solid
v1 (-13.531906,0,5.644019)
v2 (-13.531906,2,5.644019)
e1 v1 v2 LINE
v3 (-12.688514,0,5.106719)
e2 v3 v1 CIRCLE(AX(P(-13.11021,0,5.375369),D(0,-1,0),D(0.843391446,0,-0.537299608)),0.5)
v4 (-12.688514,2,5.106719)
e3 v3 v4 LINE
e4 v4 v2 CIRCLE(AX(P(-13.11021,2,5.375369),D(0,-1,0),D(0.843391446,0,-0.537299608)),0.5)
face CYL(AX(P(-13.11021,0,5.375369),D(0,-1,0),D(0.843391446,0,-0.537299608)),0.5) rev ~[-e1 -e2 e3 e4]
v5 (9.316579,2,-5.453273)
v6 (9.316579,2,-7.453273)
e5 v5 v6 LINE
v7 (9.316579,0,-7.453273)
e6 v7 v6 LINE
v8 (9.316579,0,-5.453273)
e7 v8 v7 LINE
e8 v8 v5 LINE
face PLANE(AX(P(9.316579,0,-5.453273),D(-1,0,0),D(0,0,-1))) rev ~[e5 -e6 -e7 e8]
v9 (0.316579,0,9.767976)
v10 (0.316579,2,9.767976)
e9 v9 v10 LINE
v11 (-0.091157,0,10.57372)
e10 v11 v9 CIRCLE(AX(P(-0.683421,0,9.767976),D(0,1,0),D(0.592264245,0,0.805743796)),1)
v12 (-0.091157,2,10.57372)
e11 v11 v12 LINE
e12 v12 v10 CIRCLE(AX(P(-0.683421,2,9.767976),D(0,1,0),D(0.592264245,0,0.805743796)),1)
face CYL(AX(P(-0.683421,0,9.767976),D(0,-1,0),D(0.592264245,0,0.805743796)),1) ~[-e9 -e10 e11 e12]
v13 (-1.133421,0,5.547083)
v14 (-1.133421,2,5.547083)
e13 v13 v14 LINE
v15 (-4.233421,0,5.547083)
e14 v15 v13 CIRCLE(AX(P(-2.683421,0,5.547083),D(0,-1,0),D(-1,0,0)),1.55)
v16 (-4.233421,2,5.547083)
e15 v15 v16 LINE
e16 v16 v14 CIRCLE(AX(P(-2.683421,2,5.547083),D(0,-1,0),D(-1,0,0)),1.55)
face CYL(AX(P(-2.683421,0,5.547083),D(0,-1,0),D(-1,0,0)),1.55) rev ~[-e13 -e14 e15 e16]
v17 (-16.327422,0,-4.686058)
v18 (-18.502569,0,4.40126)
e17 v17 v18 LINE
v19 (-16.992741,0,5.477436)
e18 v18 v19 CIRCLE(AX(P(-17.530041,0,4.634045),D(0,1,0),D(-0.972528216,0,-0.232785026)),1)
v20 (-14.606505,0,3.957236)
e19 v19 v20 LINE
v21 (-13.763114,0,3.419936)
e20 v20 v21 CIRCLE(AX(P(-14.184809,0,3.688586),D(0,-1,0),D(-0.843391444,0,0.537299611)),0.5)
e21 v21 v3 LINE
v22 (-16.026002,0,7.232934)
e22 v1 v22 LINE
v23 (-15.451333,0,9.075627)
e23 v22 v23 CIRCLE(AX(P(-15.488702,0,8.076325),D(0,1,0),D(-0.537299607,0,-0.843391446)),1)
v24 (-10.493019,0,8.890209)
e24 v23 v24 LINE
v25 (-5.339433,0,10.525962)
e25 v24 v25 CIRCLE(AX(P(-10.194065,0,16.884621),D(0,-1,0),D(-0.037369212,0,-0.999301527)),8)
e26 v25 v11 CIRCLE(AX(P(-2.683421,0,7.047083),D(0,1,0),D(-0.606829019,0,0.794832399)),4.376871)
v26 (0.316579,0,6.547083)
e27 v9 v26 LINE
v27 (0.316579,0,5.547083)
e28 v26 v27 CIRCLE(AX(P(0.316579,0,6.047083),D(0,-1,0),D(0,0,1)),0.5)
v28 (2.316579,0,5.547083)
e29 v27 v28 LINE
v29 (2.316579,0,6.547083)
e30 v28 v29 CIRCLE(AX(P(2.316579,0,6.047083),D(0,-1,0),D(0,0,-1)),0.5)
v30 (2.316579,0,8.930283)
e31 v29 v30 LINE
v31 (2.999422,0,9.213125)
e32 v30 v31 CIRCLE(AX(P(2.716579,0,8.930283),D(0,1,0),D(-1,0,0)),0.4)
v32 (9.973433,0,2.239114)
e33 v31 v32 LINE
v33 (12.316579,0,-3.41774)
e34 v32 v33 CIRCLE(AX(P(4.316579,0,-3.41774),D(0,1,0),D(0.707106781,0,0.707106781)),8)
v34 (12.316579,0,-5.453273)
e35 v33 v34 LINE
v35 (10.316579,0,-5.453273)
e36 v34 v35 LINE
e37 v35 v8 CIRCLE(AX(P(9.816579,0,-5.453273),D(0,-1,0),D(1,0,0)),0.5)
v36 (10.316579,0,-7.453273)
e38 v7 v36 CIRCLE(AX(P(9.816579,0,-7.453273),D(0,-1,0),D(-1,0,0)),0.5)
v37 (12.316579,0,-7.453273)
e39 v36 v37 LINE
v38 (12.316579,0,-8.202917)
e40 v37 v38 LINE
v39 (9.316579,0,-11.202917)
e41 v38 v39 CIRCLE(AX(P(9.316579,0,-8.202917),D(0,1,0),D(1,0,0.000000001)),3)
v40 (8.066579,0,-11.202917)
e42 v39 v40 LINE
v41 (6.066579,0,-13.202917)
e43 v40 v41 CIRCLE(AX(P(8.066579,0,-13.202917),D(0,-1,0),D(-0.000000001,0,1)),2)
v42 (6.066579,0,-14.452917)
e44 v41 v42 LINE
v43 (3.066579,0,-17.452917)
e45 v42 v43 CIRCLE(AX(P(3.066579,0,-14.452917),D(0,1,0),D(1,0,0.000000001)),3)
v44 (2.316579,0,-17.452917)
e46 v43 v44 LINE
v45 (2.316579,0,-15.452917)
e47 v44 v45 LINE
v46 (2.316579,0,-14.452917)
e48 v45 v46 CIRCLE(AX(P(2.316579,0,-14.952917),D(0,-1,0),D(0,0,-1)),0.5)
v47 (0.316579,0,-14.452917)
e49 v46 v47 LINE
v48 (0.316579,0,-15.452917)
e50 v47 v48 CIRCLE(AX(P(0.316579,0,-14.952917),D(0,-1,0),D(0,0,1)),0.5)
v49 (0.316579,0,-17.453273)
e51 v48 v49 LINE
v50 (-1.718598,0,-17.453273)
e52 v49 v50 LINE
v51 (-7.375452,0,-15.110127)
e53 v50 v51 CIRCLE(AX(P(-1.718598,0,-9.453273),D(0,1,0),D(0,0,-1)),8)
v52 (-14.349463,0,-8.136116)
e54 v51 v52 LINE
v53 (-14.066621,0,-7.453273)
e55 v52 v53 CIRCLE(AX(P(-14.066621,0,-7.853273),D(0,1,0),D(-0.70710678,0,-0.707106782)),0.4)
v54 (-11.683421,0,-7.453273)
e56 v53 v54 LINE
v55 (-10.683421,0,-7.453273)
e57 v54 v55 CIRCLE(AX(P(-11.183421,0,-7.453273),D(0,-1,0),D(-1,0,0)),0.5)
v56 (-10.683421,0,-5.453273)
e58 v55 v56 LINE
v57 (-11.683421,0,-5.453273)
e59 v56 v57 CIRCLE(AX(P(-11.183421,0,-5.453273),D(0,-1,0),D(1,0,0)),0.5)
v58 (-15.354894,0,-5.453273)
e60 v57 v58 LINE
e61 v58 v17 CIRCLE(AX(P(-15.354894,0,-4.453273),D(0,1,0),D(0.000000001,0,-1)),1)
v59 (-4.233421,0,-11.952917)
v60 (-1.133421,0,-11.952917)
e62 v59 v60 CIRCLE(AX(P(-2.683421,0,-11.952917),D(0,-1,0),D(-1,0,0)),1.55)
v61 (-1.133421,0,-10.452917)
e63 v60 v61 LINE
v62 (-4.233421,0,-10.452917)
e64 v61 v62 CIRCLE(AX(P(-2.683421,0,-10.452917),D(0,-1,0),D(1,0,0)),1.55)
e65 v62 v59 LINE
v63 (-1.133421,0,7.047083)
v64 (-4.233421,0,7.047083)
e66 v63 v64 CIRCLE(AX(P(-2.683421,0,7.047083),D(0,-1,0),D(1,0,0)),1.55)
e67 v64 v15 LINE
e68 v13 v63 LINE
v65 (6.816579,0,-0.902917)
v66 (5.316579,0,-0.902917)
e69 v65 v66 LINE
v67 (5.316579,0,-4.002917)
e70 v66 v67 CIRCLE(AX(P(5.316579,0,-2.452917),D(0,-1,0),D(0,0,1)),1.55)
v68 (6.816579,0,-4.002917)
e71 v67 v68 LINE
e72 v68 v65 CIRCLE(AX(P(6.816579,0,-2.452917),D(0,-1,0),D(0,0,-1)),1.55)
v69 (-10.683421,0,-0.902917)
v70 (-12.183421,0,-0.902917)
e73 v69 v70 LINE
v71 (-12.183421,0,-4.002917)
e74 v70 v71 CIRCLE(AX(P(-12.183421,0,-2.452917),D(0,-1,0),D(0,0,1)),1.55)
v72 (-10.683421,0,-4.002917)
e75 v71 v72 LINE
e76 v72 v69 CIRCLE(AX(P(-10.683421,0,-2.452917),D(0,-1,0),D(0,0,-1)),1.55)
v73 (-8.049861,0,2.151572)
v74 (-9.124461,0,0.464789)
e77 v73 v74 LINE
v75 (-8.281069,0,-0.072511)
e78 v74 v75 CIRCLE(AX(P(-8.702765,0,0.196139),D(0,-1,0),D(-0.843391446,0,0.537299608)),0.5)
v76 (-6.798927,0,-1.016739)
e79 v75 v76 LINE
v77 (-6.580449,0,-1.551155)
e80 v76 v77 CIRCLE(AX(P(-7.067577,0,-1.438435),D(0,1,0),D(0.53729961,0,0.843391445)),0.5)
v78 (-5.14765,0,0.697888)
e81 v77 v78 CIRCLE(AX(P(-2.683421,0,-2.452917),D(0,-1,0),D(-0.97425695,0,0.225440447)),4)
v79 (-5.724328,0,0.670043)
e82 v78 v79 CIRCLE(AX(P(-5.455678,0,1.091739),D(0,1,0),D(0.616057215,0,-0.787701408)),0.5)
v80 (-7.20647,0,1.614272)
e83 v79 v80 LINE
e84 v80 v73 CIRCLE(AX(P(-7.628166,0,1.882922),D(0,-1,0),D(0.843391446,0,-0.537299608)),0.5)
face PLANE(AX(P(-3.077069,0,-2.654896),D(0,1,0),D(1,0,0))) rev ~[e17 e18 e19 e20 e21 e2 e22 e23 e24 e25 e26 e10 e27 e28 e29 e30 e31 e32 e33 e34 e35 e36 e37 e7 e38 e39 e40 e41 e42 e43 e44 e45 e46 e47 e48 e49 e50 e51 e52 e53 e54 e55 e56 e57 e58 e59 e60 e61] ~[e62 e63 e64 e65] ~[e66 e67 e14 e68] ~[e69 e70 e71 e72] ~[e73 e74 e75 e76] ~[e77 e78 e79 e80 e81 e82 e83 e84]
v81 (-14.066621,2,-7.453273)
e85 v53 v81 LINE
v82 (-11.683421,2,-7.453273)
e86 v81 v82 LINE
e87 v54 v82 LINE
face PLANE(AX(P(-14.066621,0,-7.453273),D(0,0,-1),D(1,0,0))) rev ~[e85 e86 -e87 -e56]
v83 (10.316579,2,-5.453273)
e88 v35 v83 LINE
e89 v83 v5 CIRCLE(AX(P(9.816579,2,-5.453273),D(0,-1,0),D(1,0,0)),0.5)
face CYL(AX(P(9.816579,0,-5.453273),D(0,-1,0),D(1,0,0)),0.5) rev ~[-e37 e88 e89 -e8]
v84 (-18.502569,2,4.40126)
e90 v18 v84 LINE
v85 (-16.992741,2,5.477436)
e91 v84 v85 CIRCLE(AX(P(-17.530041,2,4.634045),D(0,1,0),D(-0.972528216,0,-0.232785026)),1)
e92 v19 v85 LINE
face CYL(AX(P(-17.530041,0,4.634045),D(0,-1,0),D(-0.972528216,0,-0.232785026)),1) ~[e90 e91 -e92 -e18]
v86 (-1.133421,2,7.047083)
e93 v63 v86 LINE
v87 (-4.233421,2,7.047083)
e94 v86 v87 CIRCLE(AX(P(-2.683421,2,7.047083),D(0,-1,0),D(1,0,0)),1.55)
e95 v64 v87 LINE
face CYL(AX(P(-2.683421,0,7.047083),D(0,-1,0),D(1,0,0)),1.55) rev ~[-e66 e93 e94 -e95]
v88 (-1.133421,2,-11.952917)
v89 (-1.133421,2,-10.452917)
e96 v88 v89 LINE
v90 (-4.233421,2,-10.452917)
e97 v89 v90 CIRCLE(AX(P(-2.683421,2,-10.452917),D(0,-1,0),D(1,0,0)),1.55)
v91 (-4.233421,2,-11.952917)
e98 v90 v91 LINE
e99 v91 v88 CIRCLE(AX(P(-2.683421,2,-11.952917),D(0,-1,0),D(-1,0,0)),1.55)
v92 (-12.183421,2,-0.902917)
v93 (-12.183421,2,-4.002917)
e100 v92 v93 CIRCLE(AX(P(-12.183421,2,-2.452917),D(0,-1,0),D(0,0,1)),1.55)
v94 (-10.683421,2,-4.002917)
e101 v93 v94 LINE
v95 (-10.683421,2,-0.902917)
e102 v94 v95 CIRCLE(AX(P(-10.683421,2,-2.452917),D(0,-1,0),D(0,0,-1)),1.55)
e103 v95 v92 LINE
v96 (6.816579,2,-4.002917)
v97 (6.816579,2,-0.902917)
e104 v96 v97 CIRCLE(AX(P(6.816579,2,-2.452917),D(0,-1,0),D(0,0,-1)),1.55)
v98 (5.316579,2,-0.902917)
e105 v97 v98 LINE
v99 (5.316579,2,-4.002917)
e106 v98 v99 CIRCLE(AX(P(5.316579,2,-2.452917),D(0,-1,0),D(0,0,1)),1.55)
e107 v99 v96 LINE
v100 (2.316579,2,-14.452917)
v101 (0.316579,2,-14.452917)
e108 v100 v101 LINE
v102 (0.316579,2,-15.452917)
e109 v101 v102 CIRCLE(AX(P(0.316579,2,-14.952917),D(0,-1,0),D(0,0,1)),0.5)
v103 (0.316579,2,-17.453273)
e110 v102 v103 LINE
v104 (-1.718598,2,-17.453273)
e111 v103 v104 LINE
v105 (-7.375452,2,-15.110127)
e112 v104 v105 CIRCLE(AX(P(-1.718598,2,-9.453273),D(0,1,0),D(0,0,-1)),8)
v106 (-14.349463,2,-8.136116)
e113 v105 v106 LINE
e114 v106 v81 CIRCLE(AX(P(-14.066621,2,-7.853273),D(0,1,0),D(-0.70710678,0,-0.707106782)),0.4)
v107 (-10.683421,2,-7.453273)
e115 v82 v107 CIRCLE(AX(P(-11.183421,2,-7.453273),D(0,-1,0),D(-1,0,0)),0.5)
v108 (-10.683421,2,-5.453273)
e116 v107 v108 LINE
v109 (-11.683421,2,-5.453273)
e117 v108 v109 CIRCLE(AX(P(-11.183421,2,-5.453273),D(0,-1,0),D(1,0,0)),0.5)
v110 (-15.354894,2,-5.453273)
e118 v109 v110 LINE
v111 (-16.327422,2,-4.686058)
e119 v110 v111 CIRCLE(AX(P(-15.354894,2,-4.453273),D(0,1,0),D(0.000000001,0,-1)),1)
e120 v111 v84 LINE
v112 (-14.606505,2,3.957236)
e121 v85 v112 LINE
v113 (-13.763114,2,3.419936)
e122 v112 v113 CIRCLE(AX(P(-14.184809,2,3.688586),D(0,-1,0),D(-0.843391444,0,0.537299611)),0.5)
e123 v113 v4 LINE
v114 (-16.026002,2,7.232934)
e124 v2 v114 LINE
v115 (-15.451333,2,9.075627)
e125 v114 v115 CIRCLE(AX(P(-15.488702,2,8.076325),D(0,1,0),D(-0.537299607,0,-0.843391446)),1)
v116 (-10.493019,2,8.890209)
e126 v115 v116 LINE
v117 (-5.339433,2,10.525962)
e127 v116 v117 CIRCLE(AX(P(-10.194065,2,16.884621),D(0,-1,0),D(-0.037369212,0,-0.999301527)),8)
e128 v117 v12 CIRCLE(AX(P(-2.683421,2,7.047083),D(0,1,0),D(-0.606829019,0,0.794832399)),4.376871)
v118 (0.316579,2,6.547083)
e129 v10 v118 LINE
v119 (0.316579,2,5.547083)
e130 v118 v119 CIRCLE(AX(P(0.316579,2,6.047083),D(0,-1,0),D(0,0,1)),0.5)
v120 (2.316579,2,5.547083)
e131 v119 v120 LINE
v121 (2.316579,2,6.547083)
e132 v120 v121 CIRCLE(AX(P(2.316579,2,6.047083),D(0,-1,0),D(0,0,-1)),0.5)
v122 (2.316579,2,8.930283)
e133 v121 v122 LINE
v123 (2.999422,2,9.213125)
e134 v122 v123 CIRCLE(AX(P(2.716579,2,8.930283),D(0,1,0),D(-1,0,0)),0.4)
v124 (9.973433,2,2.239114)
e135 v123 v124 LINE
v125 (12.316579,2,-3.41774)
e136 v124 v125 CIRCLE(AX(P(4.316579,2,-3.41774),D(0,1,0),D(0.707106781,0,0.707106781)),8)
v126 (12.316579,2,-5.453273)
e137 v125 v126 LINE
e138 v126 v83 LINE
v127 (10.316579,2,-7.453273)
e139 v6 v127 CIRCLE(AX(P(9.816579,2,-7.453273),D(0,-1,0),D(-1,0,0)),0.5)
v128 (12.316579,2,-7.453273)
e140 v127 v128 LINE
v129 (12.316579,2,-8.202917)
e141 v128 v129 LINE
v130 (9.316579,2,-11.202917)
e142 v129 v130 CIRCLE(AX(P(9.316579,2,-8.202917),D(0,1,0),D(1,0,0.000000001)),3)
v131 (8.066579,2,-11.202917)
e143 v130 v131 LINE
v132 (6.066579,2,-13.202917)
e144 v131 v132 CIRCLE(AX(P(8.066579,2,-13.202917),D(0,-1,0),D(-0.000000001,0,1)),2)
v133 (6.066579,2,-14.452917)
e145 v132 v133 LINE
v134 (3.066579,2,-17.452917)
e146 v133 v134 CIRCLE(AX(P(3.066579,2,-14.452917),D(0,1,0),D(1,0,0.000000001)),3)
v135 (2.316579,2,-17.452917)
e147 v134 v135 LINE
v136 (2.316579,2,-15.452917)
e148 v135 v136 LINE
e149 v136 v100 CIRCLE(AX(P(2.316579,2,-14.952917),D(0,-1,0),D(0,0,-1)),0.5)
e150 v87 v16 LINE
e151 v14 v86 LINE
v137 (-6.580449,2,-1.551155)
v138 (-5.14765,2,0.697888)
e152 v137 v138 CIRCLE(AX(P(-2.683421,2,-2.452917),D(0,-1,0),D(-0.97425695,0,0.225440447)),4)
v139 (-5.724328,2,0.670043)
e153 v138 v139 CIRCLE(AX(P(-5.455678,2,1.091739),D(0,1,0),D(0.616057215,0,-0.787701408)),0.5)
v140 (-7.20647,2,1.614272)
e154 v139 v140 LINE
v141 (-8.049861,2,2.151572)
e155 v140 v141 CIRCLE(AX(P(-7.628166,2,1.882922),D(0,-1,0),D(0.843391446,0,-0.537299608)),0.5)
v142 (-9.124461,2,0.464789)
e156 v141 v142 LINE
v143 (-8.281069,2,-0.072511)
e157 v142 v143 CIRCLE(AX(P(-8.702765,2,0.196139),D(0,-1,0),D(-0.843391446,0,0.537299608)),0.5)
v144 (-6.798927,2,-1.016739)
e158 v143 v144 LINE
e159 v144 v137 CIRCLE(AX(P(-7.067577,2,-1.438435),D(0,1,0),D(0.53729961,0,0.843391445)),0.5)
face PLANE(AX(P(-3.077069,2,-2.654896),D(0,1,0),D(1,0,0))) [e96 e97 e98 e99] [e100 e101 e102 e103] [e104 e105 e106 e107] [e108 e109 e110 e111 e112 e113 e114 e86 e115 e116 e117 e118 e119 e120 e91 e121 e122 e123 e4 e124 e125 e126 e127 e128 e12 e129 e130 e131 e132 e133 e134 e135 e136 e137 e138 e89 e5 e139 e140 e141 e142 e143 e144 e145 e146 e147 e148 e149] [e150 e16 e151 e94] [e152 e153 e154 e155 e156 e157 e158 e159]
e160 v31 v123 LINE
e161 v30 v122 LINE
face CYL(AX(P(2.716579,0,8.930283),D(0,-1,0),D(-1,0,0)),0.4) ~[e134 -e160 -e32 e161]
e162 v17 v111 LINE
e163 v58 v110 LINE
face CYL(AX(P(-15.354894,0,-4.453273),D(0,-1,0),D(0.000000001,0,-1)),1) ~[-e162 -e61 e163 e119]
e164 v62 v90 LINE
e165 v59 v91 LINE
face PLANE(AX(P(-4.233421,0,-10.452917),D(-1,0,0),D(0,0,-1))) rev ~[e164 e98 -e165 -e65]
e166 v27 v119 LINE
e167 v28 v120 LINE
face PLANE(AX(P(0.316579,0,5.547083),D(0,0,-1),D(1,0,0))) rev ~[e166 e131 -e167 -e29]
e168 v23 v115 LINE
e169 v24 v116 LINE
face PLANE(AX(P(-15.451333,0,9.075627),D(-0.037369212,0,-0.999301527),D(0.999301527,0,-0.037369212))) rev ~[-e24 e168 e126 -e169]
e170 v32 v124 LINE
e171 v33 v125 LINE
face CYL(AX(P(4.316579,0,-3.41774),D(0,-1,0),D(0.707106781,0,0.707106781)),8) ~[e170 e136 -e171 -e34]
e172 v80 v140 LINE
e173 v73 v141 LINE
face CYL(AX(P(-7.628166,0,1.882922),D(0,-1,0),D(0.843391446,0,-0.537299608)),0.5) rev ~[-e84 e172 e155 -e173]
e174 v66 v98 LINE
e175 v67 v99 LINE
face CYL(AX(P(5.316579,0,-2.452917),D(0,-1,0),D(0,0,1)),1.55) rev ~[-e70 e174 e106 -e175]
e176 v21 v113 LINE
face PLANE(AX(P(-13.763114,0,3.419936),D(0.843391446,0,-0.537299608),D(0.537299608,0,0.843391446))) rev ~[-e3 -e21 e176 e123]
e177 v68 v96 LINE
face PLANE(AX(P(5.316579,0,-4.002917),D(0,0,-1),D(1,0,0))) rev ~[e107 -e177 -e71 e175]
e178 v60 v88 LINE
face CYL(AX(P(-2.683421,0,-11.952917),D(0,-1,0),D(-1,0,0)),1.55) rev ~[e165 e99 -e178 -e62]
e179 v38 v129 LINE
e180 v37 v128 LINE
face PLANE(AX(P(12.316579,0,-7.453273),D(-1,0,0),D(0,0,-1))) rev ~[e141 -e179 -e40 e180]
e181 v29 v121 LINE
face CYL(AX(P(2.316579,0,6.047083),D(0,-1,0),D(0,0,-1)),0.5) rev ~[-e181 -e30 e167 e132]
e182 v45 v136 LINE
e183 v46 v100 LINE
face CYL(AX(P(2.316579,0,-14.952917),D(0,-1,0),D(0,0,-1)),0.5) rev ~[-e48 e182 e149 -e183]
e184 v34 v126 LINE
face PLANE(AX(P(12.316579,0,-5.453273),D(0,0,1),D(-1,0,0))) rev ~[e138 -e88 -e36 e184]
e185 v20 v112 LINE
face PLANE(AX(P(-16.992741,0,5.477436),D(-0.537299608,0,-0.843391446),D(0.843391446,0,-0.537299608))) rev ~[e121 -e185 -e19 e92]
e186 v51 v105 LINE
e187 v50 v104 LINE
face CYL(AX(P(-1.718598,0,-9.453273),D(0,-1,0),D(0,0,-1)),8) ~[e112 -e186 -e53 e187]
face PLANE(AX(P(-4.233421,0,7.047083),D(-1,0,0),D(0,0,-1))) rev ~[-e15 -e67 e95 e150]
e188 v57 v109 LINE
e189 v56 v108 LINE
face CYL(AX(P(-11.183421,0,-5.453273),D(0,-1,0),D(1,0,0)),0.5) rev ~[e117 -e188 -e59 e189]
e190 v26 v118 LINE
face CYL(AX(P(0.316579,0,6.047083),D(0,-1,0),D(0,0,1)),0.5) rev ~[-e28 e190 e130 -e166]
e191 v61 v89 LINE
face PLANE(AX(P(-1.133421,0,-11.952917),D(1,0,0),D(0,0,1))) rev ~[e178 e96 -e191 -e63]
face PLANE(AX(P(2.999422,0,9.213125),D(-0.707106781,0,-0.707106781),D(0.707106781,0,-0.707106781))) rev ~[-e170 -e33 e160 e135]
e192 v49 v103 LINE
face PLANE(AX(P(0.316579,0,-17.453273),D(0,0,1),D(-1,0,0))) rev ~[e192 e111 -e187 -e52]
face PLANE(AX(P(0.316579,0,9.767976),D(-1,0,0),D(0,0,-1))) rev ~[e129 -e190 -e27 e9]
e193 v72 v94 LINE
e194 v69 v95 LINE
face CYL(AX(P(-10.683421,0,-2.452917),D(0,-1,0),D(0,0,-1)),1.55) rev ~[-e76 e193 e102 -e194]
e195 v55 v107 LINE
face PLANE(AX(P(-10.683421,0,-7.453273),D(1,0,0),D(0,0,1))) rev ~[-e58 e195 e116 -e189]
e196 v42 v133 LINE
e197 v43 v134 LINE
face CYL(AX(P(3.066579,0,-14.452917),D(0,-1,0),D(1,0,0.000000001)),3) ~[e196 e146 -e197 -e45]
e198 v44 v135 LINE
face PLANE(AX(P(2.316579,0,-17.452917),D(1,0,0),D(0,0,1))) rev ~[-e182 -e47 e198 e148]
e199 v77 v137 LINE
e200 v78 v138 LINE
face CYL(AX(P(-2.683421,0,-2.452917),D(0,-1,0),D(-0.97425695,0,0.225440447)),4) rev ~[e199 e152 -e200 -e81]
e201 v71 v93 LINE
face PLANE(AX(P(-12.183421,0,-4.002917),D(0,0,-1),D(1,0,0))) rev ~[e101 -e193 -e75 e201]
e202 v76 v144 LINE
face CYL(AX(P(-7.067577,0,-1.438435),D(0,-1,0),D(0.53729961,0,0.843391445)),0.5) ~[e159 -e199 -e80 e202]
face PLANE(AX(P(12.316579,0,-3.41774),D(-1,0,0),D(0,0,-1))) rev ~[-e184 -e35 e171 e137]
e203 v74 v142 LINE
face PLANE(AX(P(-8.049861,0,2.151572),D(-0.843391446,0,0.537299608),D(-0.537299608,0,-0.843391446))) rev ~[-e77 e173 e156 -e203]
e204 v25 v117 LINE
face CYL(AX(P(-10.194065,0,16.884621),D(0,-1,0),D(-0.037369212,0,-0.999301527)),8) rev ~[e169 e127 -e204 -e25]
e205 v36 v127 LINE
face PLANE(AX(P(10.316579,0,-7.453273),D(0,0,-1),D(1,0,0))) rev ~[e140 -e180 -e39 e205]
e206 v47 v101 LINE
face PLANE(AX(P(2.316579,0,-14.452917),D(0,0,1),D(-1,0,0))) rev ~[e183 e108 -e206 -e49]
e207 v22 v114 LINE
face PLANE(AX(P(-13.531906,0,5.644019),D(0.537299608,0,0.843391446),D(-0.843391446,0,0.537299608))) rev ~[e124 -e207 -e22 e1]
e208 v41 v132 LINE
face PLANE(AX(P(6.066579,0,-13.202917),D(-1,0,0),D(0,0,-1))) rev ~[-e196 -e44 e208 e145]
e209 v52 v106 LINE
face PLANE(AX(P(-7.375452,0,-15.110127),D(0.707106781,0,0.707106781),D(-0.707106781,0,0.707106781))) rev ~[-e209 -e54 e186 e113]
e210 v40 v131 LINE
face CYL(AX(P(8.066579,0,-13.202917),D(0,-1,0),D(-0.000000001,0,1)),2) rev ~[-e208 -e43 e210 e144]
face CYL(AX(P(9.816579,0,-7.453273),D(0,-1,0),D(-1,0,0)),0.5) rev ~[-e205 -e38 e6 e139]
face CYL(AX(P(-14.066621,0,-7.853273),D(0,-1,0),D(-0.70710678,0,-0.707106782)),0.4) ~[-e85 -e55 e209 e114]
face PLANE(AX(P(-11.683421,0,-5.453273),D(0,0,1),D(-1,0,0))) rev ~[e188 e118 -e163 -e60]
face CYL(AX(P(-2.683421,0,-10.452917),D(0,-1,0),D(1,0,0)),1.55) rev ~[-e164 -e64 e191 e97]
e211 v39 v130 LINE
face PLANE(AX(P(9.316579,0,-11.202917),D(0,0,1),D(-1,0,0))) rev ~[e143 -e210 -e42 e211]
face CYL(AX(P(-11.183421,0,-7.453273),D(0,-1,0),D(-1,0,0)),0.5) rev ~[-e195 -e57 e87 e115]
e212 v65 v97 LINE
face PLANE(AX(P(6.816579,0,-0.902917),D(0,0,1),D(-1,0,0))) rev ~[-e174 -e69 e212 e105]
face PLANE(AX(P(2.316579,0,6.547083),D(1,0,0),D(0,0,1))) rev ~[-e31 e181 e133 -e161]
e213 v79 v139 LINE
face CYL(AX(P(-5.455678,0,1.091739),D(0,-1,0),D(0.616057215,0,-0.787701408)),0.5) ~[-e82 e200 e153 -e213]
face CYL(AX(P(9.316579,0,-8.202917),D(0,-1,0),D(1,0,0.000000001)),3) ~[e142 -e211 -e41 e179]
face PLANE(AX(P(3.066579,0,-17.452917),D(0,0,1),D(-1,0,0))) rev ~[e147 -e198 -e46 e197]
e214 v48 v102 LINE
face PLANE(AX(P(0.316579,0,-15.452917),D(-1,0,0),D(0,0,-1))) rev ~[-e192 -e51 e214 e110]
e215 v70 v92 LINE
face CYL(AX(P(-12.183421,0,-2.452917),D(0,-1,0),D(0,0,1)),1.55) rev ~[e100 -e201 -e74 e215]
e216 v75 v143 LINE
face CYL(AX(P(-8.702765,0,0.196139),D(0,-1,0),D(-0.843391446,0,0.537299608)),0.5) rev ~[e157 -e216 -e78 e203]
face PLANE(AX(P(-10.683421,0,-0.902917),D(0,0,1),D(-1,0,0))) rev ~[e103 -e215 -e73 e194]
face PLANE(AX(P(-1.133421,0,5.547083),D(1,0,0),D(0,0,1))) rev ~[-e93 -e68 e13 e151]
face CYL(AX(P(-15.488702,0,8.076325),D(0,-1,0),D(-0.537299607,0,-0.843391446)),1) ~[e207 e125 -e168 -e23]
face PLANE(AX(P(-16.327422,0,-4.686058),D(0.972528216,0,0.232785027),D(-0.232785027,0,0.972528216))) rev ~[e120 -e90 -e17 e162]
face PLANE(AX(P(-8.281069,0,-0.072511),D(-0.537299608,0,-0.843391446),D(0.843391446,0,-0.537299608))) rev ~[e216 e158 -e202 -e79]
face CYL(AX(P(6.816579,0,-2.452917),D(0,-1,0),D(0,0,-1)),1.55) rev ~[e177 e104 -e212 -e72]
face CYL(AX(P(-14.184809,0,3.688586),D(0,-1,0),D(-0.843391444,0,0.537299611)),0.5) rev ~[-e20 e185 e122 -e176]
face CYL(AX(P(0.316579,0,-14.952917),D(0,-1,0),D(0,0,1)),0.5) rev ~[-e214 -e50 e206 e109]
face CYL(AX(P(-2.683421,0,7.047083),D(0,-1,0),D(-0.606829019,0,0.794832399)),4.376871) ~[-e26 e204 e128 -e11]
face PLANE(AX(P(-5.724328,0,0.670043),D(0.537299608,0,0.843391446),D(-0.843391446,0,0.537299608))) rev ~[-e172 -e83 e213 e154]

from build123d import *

# Parameters (mm, degrees)
BOSS_EXTRUDE1_DEPTH = 2


with BuildPart() as part:
    # Sketch2 → Boss-Extrude1 (new body)
    with BuildSketch(Plane(origin=(0, 0, 0), x_dir=(1, 0, 0), z_dir=(0, 1, 0))):
        with BuildLine():
            Line((-10.683420839, 7.453272885), (-10.683420839, 5.453272885))
            ThreePointArc((-10.683420839, 5.453272885), (-11.183420839, 4.953272885), (-11.683420839, 5.453272885))
            Line((-11.683420839, 5.453272885), (-15.35489401, 5.453272885))
            ThreePointArc((-15.35489401, 5.453272885), (-15.974254556, 5.238379575), (-16.327422226, 4.686057913))
            Line((-16.327422226, 4.686057913), (-18.502568846, -4.401259626))
            ThreePointArc((-18.502568846, -4.401259626), (-18.110467141, -5.448357286), (-16.992741021, -5.477436099))
            Line((-16.992741021, -5.477436099), (-14.606504965, -3.957236073))
            ThreePointArc((-14.606504965, -3.957236073), (-14.453459047, -3.266890545), (-13.76311352, -3.419936464))
            Line((-13.76311352, -3.419936464), (-12.688514303, -5.106719356))
            ThreePointArc((-12.688514303, -5.106719356), (-12.841560222, -5.797064883), (-13.531905749, -5.644018964))
            Line((-13.531905749, -5.644018964), (-16.026002021, -7.232933527))
            ThreePointArc((-16.026002021, -7.232933527), (-16.443355206, -8.374046414), (-15.451333197, -9.075626513))
            Line((-15.451333197, -9.075626513), (-10.493019061, -8.890208712))
            ThreePointArc((-10.493019061, -8.890208712), (-7.77384357, -9.259496243), (-5.339433215, -10.525961738))
            ThreePointArc((-5.339433215, -10.525961738), (-2.723247428, -11.423772675), (-0.091156592, -10.57371951))
            ThreePointArc((-0.091156592, -10.57371951), (0.208841524, -10.219493021), (0.316579161, -9.767975715))
            Line((0.316579161, -9.767975715), (0.316579161, -6.547082806))
            ThreePointArc((0.316579161, -6.547082806), (-0.183420839, -6.047082806), (0.316579161, -5.547082806))
            Line((0.316579161, -5.547082806), (2.316579161, -5.547082806))
            ThreePointArc((2.316579161, -5.547082806), (2.816579161, -6.047082806), (2.316579161, -6.547082806))
            Line((2.316579161, -6.547082806), (2.316579161, -8.930282652))
            ThreePointArc((2.316579161, -8.930282652), (2.563505788, -9.299834465), (2.999421874, -9.213125364))
            Line((2.999421874, -9.213125364), (9.973433411, -2.239113827))
            ThreePointArc((9.973433411, -2.239113827), (11.707615421, 0.356272963), (12.316579161, 3.417740422))
            Line((12.316579161, 3.417740422), (12.316579161, 5.453272885))
            Line((12.316579161, 5.453272885), (10.316579161, 5.453272885))
            ThreePointArc((10.316579161, 5.453272885), (9.816579161, 4.953272885), (9.316579161, 5.453272885))
            Line((9.316579161, 5.453272885), (9.316579161, 7.453272885))
            ThreePointArc((9.316579161, 7.453272885), (9.816579161, 7.953272885), (10.316579161, 7.453272885))
            Line((10.316579161, 7.453272885), (12.316579161, 7.453272885))
            Line((12.316579161, 7.453272885), (12.316579161, 8.202917194))
            ThreePointArc((12.316579161, 8.202917194), (11.437899505, 10.324237538), (9.316579161, 11.202917194))
            Line((9.316579161, 11.202917194), (8.066579161, 11.202917194))
            ThreePointArc((8.066579161, 11.202917194), (6.652365599, 11.788703632), (6.066579161, 13.202917194))
            Line((6.066579161, 13.202917194), (6.066579161, 14.452917194))
            ThreePointArc((6.066579161, 14.452917194), (5.187899505, 16.574237538), (3.066579161, 17.452917194))
            Line((3.066579161, 17.452917194), (2.316579161, 17.452917194))
            Line((2.316579161, 17.452917194), (2.316579161, 15.452917194))
            ThreePointArc((2.316579161, 15.452917194), (2.816579161, 14.952917194), (2.316579161, 14.452917194))
            Line((2.316579161, 14.452917194), (0.316579161, 14.452917194))
            ThreePointArc((0.316579161, 14.452917194), (-0.183420839, 14.952917194), (0.316579161, 15.452917194))
            Line((0.316579161, 15.452917194), (0.316579161, 17.453272885))
            Line((0.316579161, 17.453272885), (-1.718597611, 17.453272885))
            ThreePointArc((-1.718597611, 17.453272885), (-4.78006507, 16.844309145), (-7.37545186, 15.110127135))
            Line((-7.37545186, 15.110127135), (-14.349463397, 8.136115598))
            ThreePointArc((-14.349463397, 8.136115598), (-14.436172498, 7.700199512), (-14.066620685, 7.453272885))
            Line((-14.066620685, 7.453272885), (-11.683420839, 7.453272885))
            ThreePointArc((-11.683420839, 7.453272885), (-11.183420839, 7.953272885), (-10.683420839, 7.453272885))
        make_face()
        with BuildLine():
            Line((-1.133420839, 11.952917194), (-1.133420839, 10.452917194))
            ThreePointArc((-1.133420839, 10.452917194), (-2.683420839, 8.902917194), (-4.233420839, 10.452917194))
            Line((-4.233420839, 10.452917194), (-4.233420839, 11.952917194))
            ThreePointArc((-4.233420839, 11.952917194), (-2.683420839, 13.502917194), (-1.133420839, 11.952917194))
        make_face(mode=Mode.SUBTRACT)
        with BuildLine():
            Line((5.316579161, 4.002917194), (6.816579161, 4.002917194))
            ThreePointArc((6.816579161, 4.002917194), (8.366579161, 2.452917194), (6.816579161, 0.902917194))
            Line((6.816579161, 0.902917194), (5.316579161, 0.902917194))
            ThreePointArc((5.316579161, 0.902917194), (3.766579161, 2.452917194), (5.316579161, 4.002917194))
        make_face(mode=Mode.SUBTRACT)
        with BuildLine():
            Line((-1.133420839, -5.547082806), (-1.133420839, -7.047082806))
            ThreePointArc((-1.133420839, -7.047082806), (-2.683420839, -8.597082806), (-4.233420839, -7.047082806))
            Line((-4.233420839, -7.047082806), (-4.233420839, -5.547082806))
            ThreePointArc((-4.233420839, -5.547082806), (-2.683420839, -3.997082806), (-1.133420839, -5.547082806))
        make_face(mode=Mode.SUBTRACT)
        with BuildLine():
            Line((-10.683420839, 0.902917194), (-12.183420839, 0.902917194))
            ThreePointArc((-12.183420839, 0.902917194), (-13.733420839, 2.452917194), (-12.183420839, 4.002917194))
            Line((-12.183420839, 4.002917194), (-10.683420839, 4.002917194))
            ThreePointArc((-10.683420839, 4.002917194), (-9.133420839, 2.452917194), (-10.683420839, 0.902917194))
        make_face(mode=Mode.SUBTRACT)
        with BuildLine():
            Line((-8.281069122, 0.07251099), (-6.79892731, 1.016739461))
            ThreePointArc((-6.79892731, 1.016739461), (-6.604759329, 1.249227104), (-6.580448639, 1.551155407))
            ThreePointArc((-6.580448639, 1.551155407), (0.690144945, 4.602115628), (-5.147649684, -0.697888449))
            ThreePointArc((-5.147649684, -0.697888449), (-5.431563797, -0.592321001), (-5.724328093, -0.670043431))
            Line((-5.724328093, -0.670043431), (-7.206469905, -1.614271902))
            ThreePointArc((-7.206469905, -1.614271902), (-7.359515824, -2.304617429), (-8.049861351, -2.15157151))
            Line((-8.049861351, -2.15157151), (-9.124460568, -0.464788618))
            ThreePointArc((-9.124460568, -0.464788618), (-8.971414649, 0.225556909), (-8.281069122, 0.07251099))
        make_face(mode=Mode.SUBTRACT)
    extrude(amount=BOSS_EXTRUDE1_DEPTH)


solid = part.part
